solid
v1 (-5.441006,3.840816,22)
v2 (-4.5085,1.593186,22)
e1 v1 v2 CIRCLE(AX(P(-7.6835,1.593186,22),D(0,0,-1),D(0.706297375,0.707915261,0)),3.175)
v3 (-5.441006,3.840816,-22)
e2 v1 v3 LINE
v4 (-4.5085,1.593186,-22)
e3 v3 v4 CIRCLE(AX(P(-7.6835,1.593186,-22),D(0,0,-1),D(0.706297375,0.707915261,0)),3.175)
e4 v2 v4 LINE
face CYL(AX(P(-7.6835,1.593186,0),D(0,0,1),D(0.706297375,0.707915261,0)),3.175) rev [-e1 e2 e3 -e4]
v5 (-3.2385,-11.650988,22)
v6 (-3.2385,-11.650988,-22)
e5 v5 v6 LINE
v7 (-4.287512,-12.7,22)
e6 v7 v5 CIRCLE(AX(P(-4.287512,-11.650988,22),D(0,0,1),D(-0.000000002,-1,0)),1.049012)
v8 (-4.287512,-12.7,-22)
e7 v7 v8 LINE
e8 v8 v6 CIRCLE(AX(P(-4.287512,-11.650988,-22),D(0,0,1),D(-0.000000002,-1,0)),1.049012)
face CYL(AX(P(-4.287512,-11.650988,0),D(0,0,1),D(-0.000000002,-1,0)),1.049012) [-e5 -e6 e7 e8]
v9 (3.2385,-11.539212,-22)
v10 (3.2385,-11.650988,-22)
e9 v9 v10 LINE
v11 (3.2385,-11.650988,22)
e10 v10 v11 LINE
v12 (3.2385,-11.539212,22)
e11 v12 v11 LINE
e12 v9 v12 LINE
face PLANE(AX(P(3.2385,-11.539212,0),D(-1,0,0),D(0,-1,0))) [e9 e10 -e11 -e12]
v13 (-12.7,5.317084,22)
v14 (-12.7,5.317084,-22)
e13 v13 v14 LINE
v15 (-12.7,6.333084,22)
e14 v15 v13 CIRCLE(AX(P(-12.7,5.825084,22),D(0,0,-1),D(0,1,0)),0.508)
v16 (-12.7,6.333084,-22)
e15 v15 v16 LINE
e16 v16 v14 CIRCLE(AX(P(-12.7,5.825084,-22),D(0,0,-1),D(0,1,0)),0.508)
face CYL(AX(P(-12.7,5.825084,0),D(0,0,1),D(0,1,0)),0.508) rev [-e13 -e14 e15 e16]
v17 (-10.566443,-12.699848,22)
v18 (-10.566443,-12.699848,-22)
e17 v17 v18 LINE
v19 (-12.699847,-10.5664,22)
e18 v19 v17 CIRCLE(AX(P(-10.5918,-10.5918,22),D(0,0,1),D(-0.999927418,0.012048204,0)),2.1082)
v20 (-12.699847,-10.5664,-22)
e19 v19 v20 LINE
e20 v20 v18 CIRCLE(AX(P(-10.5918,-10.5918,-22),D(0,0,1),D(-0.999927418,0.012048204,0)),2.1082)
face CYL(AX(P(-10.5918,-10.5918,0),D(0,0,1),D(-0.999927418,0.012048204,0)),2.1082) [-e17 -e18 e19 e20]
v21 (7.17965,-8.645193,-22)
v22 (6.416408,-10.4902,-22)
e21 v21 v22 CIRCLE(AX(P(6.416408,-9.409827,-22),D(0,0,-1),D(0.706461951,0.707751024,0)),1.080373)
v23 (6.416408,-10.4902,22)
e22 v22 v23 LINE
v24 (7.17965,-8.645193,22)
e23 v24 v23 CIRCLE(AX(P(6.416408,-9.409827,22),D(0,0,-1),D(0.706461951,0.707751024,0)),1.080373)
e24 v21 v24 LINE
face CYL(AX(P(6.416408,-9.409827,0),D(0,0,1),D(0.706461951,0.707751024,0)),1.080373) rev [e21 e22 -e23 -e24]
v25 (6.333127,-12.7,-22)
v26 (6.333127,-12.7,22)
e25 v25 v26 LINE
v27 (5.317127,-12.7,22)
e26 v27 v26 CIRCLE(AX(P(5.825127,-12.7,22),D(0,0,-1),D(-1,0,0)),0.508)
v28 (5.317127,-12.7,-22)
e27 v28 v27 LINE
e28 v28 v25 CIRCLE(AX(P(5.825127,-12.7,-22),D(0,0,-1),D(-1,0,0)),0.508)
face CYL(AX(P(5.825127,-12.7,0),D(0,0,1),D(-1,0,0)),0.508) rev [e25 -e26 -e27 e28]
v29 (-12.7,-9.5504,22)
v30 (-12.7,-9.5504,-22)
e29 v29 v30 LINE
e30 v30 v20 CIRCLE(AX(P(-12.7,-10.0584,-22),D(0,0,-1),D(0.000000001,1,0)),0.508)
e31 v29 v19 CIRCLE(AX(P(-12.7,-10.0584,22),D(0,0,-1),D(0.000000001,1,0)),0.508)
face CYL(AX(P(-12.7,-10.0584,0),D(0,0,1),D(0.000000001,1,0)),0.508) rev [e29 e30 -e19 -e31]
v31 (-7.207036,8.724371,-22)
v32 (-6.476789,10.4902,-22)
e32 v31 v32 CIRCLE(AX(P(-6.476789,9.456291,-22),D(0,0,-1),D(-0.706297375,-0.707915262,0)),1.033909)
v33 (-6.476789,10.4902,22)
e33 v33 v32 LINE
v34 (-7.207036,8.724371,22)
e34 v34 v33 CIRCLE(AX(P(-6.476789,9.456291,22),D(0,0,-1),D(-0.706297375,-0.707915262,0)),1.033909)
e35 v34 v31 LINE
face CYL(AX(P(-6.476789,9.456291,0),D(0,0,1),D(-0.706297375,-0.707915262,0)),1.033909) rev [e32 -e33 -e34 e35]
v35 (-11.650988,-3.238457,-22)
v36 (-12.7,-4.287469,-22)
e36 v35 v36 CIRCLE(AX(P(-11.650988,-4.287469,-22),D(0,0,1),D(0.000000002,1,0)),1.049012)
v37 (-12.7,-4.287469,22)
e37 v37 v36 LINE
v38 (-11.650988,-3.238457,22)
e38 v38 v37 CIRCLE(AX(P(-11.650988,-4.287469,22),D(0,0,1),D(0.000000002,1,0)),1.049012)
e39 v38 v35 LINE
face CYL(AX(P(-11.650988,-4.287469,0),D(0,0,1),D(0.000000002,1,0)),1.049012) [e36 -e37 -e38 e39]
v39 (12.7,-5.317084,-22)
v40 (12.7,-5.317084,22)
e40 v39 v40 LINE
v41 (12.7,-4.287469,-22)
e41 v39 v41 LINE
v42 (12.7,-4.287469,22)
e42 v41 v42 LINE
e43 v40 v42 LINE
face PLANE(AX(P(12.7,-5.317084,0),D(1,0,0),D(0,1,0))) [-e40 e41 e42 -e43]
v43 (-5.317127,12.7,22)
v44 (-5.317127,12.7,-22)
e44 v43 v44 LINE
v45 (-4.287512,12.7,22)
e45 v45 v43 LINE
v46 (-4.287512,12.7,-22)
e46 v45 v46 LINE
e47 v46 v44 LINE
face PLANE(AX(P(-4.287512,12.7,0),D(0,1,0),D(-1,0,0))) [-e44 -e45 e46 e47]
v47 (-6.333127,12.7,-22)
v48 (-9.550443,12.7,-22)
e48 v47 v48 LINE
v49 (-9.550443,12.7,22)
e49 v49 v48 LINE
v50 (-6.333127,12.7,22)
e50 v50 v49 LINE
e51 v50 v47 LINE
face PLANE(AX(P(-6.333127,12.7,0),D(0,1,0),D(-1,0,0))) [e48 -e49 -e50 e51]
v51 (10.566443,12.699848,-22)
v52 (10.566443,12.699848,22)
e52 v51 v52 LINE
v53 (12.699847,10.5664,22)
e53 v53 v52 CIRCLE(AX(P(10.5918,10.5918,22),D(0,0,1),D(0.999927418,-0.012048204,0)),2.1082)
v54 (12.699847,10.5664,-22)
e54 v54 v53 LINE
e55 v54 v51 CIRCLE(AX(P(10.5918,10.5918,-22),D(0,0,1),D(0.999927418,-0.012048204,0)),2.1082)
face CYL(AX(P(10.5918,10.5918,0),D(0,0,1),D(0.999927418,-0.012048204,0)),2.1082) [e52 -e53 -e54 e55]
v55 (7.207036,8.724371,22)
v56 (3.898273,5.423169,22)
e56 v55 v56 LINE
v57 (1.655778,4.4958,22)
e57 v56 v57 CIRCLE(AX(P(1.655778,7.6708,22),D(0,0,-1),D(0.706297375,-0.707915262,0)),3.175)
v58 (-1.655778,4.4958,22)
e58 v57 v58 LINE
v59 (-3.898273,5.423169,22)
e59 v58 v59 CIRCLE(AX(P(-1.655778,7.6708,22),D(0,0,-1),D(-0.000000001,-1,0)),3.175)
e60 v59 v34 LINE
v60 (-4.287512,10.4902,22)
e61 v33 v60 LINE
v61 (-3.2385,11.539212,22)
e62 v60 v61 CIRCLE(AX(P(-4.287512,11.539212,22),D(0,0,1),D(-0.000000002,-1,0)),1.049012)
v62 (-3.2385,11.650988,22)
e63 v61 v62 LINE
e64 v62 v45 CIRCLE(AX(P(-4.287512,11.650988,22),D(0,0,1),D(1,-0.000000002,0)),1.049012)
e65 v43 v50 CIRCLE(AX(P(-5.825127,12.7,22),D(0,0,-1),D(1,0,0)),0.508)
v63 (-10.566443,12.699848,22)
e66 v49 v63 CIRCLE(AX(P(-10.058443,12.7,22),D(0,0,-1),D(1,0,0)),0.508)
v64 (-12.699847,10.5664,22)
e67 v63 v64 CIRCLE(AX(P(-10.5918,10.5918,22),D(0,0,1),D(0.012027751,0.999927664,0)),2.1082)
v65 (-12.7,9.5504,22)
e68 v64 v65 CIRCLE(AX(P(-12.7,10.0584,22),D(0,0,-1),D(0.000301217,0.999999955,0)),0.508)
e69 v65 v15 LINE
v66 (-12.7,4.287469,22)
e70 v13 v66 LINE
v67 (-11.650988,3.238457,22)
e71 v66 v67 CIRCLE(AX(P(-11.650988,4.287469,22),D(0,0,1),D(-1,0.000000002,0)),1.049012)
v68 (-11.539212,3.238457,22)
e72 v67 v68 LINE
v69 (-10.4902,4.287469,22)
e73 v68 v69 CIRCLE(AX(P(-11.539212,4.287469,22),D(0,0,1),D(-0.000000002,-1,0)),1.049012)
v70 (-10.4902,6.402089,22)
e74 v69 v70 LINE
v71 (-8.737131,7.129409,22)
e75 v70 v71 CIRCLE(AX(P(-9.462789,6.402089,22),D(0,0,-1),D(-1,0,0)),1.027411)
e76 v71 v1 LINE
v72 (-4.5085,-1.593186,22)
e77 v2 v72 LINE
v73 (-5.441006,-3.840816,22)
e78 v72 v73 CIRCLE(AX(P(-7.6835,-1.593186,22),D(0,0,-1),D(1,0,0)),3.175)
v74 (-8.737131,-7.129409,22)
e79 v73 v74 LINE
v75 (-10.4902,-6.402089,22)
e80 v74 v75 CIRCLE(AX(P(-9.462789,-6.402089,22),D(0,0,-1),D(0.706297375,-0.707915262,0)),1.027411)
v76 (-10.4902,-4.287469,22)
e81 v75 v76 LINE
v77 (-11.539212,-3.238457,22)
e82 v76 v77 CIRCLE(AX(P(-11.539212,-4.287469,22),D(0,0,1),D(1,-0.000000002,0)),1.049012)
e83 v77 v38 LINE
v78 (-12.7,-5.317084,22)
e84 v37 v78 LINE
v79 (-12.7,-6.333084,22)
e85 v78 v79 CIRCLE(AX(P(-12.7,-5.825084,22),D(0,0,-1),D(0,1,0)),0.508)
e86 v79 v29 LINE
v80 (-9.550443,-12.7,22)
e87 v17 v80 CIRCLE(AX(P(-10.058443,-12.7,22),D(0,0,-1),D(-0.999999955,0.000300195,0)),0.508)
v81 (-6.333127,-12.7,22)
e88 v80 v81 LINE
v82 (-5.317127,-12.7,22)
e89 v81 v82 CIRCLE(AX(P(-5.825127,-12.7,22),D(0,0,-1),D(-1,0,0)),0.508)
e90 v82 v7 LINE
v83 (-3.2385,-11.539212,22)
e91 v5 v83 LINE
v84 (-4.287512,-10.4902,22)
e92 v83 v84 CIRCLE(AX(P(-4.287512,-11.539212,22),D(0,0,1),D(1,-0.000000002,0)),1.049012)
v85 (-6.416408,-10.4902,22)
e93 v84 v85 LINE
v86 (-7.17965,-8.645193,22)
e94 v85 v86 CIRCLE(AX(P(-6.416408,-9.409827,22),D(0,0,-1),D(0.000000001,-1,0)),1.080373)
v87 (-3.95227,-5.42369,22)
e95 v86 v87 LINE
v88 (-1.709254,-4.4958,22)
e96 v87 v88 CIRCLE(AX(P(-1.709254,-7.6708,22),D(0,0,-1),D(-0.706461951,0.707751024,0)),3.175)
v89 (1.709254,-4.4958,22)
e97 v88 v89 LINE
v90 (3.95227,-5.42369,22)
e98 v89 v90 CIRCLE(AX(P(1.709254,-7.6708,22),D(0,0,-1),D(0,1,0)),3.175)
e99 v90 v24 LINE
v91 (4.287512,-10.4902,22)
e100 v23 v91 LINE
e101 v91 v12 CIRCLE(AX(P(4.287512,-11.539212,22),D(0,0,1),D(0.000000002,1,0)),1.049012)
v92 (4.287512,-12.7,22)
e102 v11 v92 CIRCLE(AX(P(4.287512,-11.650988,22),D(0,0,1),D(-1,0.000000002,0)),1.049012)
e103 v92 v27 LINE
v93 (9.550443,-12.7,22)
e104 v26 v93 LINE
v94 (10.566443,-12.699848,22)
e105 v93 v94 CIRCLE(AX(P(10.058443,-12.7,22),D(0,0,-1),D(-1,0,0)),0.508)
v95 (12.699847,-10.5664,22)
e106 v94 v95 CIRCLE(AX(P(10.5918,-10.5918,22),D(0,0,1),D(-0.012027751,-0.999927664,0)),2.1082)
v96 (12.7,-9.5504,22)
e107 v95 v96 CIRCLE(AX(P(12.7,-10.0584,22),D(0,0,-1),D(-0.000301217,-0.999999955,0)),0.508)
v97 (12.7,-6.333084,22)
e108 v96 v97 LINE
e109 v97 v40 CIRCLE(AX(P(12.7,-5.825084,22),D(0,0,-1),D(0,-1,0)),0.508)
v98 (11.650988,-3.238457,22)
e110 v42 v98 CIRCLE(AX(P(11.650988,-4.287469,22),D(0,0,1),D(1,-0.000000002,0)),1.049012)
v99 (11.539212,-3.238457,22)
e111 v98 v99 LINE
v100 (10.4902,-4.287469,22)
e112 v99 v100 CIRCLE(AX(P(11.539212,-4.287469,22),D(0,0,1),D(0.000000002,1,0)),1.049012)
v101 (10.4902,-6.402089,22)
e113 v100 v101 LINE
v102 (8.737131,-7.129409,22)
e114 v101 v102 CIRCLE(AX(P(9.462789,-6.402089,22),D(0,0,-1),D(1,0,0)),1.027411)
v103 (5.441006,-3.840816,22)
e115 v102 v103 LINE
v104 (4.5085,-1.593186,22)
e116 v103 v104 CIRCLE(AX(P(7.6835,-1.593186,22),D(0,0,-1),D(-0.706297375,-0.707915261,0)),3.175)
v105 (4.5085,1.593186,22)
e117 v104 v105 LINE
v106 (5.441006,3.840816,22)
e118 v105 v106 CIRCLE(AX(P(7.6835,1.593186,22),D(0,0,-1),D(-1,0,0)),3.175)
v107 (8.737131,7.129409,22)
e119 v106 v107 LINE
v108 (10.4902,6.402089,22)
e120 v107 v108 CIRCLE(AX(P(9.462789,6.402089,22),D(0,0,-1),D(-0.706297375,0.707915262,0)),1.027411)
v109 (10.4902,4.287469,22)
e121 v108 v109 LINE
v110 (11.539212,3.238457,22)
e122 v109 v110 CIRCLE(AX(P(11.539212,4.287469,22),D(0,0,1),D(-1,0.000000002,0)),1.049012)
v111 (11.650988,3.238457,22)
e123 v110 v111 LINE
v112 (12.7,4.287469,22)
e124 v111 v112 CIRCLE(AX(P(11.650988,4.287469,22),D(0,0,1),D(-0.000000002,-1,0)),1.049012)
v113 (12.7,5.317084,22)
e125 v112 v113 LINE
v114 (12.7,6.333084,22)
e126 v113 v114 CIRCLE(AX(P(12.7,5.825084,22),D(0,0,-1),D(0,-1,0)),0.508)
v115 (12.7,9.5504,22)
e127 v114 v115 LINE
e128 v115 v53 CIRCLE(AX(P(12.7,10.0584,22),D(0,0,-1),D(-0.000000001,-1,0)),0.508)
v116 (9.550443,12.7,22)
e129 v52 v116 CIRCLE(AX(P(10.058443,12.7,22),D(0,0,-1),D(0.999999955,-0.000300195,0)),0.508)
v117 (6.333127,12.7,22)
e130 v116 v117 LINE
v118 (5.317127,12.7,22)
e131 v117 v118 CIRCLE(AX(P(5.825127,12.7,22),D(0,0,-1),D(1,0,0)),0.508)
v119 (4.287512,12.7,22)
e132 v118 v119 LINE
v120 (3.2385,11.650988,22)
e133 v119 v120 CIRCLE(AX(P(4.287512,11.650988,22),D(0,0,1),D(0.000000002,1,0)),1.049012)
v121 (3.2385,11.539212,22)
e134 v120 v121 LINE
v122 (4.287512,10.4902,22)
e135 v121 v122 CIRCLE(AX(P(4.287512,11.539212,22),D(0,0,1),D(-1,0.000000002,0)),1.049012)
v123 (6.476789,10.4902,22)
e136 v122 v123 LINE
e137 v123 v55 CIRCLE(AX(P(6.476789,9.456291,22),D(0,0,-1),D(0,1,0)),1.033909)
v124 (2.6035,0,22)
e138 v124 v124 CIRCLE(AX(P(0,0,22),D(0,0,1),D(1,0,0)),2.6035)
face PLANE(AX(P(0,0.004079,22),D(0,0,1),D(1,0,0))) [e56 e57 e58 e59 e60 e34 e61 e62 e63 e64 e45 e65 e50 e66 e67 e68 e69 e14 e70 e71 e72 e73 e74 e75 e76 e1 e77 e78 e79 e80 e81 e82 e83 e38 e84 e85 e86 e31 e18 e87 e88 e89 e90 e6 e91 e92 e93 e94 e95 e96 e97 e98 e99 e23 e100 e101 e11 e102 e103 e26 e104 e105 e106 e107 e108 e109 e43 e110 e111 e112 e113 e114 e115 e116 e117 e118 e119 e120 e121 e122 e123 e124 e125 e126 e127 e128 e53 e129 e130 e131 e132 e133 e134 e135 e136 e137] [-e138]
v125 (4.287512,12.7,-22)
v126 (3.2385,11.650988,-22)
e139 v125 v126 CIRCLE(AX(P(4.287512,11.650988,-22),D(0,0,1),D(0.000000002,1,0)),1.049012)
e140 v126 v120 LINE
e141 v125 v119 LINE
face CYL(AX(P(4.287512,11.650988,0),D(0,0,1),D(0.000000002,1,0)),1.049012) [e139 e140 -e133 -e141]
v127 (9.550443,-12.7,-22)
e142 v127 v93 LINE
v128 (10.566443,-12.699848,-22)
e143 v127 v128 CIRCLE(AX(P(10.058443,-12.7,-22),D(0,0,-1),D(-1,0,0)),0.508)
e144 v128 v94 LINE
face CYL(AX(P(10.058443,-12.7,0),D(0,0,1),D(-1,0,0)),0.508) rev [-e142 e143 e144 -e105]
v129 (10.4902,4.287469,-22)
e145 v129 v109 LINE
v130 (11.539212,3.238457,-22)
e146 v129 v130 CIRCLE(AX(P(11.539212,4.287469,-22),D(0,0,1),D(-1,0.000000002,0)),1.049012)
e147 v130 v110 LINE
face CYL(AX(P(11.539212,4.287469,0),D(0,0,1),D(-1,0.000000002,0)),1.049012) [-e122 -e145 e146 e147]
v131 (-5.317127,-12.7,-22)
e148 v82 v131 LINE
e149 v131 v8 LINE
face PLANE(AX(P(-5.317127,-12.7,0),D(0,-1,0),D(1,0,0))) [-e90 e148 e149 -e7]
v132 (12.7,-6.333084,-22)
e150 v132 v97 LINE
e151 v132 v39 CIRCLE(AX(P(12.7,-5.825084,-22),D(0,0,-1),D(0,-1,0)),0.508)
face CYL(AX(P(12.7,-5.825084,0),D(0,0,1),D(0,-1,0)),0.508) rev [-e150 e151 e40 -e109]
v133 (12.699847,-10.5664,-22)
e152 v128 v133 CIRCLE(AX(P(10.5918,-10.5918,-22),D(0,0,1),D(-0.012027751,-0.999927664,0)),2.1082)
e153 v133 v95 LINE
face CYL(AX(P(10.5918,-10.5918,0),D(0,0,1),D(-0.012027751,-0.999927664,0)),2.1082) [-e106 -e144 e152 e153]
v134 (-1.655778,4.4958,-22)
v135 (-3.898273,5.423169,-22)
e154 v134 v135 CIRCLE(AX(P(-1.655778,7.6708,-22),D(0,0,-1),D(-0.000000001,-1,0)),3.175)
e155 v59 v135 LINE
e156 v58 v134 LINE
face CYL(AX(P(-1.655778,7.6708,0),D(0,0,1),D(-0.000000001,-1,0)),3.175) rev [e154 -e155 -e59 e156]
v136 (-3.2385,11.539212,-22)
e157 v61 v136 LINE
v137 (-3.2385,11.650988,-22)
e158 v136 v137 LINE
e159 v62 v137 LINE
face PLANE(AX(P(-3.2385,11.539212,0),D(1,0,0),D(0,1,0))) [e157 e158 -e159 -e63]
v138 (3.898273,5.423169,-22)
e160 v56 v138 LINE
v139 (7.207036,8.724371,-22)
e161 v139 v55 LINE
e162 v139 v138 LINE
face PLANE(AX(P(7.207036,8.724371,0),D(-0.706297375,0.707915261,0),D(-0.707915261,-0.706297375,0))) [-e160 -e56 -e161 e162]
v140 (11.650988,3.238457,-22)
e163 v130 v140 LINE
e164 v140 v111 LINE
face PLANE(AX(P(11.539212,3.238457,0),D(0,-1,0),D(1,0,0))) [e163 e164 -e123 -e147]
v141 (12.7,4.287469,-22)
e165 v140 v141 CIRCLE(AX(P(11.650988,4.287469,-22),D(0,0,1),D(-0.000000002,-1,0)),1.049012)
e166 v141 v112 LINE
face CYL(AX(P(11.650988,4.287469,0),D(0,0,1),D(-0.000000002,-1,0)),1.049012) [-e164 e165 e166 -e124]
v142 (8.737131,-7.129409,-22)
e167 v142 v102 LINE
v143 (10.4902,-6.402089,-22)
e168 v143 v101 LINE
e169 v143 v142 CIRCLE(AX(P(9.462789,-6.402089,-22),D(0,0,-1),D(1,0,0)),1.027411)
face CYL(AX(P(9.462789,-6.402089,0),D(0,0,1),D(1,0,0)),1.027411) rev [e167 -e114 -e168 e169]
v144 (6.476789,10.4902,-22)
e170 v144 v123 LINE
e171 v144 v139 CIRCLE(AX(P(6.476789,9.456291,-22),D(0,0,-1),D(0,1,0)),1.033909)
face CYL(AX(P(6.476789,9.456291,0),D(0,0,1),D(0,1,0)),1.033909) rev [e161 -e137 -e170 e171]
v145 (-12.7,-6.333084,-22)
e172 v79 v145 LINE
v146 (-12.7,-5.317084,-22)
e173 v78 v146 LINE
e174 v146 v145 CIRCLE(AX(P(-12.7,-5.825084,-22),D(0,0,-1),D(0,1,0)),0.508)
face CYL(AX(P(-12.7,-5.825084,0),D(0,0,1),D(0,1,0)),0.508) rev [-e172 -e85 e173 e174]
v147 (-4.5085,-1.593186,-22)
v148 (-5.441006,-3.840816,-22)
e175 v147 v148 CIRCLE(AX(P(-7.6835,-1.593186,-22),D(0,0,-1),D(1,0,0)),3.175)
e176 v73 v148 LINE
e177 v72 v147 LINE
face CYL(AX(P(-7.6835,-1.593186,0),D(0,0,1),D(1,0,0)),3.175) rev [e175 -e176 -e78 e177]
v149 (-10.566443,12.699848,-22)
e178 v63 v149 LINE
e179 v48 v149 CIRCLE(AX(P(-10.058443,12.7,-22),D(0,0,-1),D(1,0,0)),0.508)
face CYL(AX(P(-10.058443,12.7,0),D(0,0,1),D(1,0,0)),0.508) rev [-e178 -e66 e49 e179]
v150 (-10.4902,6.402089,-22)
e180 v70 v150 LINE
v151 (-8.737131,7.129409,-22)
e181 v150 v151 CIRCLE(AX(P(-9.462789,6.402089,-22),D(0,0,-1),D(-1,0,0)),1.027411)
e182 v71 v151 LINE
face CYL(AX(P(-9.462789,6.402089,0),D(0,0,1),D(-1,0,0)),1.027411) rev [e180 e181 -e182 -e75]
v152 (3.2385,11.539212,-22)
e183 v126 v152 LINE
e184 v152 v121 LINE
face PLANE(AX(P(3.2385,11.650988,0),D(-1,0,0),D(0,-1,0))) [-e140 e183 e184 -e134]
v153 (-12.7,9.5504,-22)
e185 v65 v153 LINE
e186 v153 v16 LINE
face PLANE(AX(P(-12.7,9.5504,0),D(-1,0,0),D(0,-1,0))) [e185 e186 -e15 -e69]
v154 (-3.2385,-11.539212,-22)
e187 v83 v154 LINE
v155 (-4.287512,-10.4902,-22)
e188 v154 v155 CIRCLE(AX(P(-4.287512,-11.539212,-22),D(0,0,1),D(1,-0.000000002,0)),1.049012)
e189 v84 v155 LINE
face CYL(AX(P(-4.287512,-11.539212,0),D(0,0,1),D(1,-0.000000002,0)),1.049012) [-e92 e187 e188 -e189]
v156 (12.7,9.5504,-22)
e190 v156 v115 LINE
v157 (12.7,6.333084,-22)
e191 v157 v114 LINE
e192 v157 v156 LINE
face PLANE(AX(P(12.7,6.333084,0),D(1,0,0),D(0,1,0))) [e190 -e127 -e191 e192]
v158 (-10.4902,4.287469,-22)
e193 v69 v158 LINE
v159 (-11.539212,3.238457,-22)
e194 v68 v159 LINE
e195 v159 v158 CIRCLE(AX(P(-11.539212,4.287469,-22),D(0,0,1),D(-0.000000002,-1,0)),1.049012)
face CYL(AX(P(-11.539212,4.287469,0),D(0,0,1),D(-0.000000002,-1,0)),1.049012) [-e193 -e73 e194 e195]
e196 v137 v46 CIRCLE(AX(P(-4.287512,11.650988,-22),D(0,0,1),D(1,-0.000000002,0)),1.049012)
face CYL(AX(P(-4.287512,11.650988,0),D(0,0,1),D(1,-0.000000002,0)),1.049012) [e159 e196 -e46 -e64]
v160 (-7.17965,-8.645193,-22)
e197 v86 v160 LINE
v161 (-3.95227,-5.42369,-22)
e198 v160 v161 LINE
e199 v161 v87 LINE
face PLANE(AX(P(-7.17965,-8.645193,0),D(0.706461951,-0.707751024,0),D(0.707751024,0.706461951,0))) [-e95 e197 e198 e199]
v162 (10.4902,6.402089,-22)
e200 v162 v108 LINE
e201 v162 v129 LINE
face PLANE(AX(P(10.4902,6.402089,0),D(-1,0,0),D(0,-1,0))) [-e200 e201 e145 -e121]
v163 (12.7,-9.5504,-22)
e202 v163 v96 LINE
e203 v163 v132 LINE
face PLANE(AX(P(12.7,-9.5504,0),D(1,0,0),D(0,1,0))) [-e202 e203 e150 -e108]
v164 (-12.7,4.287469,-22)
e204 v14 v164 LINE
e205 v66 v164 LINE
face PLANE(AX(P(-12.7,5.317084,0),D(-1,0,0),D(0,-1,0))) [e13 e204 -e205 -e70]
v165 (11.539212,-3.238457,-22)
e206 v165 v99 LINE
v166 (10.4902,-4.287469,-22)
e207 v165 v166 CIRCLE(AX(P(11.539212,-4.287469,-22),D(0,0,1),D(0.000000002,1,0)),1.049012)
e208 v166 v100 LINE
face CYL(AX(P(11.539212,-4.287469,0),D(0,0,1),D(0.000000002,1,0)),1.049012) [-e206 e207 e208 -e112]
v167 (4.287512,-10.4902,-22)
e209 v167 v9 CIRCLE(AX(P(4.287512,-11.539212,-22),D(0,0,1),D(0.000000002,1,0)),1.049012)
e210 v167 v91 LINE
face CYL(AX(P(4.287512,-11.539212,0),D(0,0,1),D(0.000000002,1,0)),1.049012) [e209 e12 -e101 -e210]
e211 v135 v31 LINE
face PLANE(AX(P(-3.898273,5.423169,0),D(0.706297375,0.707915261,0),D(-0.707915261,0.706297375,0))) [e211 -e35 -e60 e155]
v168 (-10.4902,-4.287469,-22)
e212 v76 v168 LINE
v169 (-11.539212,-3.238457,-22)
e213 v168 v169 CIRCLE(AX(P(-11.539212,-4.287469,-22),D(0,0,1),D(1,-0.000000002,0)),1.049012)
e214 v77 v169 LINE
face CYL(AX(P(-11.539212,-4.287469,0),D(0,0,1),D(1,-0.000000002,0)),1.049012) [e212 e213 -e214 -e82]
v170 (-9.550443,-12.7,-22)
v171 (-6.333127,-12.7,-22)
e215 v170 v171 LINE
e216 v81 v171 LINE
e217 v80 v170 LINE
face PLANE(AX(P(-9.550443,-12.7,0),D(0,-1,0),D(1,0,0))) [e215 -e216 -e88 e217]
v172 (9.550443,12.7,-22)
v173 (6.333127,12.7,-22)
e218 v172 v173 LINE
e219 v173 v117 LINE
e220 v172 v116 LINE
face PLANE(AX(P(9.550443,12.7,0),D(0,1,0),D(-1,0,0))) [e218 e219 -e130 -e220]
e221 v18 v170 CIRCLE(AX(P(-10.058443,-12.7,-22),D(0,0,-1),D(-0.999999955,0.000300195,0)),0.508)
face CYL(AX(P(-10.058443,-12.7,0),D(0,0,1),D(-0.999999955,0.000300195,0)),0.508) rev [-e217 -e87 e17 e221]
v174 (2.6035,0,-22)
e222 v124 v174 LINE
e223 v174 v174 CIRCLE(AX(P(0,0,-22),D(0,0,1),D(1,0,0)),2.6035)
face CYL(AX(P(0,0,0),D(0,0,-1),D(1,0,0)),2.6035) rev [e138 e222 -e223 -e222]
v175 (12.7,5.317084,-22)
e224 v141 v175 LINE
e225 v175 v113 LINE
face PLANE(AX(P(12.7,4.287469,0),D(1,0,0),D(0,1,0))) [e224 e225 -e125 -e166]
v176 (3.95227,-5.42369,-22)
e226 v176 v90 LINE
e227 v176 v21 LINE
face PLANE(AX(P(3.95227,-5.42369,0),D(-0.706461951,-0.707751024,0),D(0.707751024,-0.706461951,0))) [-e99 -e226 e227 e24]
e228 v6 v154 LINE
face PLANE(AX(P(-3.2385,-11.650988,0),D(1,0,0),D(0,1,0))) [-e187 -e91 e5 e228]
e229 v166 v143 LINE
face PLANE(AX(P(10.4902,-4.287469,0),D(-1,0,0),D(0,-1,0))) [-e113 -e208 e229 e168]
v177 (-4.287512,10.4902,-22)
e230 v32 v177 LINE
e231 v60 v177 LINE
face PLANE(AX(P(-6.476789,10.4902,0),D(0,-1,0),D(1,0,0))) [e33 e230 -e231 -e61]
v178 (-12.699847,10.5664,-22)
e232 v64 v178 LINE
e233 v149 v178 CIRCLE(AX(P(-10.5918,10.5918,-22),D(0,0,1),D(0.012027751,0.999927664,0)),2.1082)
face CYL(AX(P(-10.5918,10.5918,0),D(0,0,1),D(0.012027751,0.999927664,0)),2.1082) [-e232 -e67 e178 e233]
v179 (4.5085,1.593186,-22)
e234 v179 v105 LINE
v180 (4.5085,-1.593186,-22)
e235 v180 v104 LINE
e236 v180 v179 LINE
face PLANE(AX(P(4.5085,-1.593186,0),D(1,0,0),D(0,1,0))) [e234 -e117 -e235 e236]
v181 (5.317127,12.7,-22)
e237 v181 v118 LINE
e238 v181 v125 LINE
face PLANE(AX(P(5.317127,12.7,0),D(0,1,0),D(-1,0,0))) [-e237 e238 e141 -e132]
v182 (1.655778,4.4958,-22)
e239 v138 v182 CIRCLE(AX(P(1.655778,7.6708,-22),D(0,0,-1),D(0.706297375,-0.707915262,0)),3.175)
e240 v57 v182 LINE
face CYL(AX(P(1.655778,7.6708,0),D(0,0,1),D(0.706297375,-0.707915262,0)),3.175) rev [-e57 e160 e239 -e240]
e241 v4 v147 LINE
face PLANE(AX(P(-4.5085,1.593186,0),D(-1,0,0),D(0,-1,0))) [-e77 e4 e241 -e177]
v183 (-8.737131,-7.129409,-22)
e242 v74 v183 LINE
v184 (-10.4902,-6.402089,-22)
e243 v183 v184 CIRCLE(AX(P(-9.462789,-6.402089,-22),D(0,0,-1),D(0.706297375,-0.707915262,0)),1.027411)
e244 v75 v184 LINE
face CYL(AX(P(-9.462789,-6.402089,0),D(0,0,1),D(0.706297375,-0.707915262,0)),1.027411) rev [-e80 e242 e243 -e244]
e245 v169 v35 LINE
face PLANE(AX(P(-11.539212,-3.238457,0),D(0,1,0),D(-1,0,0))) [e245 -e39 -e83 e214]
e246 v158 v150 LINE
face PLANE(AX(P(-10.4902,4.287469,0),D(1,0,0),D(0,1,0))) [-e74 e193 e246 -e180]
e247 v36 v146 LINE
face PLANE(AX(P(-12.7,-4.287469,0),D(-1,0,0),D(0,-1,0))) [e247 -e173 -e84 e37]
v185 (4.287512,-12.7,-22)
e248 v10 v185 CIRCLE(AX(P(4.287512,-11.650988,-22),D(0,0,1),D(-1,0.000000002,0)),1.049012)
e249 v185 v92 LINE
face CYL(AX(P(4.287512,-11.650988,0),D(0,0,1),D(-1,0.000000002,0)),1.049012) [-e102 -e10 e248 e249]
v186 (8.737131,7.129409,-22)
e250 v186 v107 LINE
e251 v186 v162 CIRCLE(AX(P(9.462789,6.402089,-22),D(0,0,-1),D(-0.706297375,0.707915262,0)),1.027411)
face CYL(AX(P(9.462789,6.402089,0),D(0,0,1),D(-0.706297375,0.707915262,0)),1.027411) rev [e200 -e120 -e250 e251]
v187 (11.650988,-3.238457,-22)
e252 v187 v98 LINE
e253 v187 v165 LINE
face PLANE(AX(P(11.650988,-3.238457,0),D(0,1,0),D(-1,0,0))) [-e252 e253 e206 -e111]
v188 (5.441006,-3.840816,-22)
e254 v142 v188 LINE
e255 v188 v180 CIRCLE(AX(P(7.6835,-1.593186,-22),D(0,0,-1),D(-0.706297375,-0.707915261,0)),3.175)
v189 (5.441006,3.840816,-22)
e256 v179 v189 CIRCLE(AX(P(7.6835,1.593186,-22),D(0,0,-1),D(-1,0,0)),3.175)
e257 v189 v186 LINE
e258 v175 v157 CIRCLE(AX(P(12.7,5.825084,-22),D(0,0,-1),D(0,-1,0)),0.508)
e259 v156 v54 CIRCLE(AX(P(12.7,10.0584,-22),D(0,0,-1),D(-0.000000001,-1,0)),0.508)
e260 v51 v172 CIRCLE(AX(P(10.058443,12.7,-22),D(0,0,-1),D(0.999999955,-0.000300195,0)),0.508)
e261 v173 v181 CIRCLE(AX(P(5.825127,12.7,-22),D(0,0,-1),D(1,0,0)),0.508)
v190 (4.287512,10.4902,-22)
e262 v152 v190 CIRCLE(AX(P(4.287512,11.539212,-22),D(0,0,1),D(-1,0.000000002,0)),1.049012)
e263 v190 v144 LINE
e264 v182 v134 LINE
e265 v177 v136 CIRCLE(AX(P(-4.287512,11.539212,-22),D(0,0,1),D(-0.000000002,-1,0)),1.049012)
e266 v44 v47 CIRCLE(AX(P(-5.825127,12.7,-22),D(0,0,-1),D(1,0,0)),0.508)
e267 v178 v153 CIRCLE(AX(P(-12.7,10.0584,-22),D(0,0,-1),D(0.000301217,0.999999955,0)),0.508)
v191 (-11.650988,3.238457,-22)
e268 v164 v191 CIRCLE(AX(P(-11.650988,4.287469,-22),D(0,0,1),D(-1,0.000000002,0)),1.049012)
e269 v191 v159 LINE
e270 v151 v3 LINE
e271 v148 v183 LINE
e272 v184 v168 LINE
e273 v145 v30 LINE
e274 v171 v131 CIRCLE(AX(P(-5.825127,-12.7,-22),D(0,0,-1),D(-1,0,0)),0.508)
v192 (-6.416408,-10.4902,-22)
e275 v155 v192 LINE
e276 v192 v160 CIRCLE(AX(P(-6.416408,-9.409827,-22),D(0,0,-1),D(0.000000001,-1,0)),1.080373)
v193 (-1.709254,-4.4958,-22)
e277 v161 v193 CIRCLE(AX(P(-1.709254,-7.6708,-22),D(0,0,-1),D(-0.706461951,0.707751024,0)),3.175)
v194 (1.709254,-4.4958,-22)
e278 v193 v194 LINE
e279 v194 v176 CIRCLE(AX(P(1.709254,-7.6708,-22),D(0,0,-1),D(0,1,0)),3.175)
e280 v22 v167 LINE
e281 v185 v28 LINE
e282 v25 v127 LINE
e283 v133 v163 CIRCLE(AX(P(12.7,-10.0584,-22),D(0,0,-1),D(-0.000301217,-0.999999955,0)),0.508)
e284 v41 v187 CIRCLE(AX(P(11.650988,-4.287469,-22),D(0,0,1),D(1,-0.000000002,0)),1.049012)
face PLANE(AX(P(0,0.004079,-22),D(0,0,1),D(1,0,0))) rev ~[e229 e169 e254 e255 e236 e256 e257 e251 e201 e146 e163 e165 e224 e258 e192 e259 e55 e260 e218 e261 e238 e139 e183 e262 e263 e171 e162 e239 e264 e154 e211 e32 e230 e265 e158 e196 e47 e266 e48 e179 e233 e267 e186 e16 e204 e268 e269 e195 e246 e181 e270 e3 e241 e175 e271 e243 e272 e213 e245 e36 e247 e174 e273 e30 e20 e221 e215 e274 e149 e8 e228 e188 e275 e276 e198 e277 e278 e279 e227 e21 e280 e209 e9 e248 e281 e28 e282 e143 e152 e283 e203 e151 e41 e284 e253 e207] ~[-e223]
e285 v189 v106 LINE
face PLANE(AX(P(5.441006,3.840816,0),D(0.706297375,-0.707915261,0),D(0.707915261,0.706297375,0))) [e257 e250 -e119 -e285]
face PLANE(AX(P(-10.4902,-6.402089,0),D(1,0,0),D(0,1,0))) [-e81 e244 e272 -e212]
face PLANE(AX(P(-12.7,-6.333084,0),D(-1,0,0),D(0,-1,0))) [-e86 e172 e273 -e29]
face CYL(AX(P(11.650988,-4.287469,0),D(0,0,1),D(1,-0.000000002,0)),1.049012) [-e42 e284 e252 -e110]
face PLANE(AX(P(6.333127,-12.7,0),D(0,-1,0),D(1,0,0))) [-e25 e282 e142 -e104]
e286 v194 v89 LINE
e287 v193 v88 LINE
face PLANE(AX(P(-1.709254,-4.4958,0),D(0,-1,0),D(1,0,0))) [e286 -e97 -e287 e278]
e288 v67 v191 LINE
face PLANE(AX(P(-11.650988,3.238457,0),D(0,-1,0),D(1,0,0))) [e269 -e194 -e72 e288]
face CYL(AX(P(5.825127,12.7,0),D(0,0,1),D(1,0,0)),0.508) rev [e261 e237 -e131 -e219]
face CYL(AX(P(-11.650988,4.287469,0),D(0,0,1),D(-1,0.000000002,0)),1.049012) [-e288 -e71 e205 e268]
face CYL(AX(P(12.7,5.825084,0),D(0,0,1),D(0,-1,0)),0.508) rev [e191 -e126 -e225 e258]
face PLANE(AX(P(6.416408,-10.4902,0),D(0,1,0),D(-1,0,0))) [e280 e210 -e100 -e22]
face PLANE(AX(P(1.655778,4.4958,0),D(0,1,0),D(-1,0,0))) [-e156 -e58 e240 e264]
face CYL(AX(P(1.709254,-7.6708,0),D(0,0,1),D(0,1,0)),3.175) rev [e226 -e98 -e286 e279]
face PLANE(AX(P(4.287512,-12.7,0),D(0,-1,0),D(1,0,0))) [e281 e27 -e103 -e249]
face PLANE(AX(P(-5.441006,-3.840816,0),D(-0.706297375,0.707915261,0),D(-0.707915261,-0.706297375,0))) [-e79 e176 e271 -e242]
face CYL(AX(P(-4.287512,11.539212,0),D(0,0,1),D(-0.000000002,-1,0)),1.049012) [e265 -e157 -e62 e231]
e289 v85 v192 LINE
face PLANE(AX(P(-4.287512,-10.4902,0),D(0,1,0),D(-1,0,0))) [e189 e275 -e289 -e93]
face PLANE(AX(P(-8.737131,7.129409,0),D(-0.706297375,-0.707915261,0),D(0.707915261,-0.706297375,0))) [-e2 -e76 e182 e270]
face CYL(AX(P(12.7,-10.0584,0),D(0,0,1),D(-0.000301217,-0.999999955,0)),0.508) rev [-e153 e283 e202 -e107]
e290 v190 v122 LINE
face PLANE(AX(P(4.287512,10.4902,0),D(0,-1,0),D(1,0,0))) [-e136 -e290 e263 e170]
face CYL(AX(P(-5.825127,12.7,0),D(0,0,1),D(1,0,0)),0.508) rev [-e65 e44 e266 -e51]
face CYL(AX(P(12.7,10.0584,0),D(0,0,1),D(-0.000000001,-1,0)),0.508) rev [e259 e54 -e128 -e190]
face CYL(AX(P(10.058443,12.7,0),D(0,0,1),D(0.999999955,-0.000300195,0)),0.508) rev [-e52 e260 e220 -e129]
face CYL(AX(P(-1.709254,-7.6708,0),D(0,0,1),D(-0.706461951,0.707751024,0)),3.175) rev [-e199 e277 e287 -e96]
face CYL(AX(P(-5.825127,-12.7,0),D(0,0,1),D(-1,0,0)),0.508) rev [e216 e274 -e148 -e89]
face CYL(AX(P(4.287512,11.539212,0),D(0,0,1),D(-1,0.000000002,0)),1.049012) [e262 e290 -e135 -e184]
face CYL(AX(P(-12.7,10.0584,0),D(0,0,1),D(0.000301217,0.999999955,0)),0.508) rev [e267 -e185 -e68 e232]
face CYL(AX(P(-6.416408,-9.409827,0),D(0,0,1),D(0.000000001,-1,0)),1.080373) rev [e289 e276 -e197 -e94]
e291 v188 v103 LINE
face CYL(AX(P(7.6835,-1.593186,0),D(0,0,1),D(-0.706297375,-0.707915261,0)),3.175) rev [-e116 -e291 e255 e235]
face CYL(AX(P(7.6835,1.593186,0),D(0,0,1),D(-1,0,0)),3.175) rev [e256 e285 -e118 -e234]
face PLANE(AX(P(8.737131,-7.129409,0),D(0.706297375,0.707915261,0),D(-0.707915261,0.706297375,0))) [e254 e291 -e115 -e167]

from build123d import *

# Parameters (mm, degrees)
SKETCH1_R           = 2.6035
BOSS_EXTRUDE1_DEPTH = 22


with BuildPart() as part:
    # Sketch1 → Boss-Extrude1 (new body, symmetric)
    with BuildSketch(Plane.XY):
        with BuildLine():
            Line((-7.179650497, -8.645192506), (-3.952270251, -5.423690499))
            ThreePointArc((-3.952270251, -5.423690499), (-2.922936451, -4.736929036), (-1.709253557, -4.4958))
            Line((-1.709253557, -4.4958), (1.709253557, -4.4958))
            ThreePointArc((1.709253557, -4.4958), (2.922936451, -4.736929036), (3.952270251, -5.423690499))
            Line((3.952270251, -5.423690499), (7.179650497, -8.645192506))
            ThreePointArc((7.179650497, -8.645192506), (7.41473083, -9.822813117), (6.416408329, -10.4902))
            Line((6.416408329, -10.4902), (4.287512407, -10.4902))
            ThreePointArc((4.287512407, -10.4902), (3.54574862, -10.79744862), (3.2385, -11.539212407))
            Line((3.2385, -11.539212407), (3.2385, -11.650987593))
            ThreePointArc((3.2385, -11.650987593), (3.54574862, -12.39275138), (4.287512407, -12.7))
            Line((4.287512407, -12.7), (5.317126718, -12.7))
            ThreePointArc((5.317126718, -12.7), (5.825126718, -12.192), (6.333126718, -12.7))
            Line((6.333126718, -12.7), (9.550443118, -12.7))
            ThreePointArc((9.550443118, -12.7), (10.058366869, -12.192000006), (10.566443095, -12.699847501))
            ThreePointArc((10.566443095, -12.699847501), (12.082537762, -12.08250727), (12.699846982, -10.566399977))
            ThreePointArc((12.699846982, -10.566399977), (12.192000006, -10.058323491), (12.7, -9.5504))
            Line((12.7, -9.5504), (12.7, -6.3330836))
            ThreePointArc((12.7, -6.3330836), (12.192, -5.8250836), (12.7, -5.3170836))
            Line((12.7, -5.3170836), (12.7, -4.287469289))
            ThreePointArc((12.7, -4.287469289), (12.39275138, -3.545705502), (11.650987593, -3.238456882))
            Line((11.650987593, -3.238456882), (11.539212407, -3.238456882))
            ThreePointArc((11.539212407, -3.238456882), (10.79744862, -3.545705502), (10.4902, -4.287469289))
            Line((10.4902, -4.287469289), (10.4902, -6.402089023))
            ThreePointArc((10.4902, -6.402089023), (9.856505071, -7.351067942), (8.737131347, -7.129408934))
            Line((8.737131347, -7.129408934), (5.441005833, -3.840816462))
            ThreePointArc((5.441005833, -3.840816462), (4.750877967, -2.809883091), (4.5085, -1.593185507))
            Line((4.5085, -1.593185507), (4.5085, 1.593185507))
            ThreePointArc((4.5085, 1.593185507), (4.750877967, 2.809883091), (5.441005833, 3.840816462))
            Line((5.441005833, 3.840816462), (8.737131347, 7.129408934))
            ThreePointArc((8.737131347, 7.129408934), (9.856505071, 7.351067942), (10.4902, 6.402089023))
            Line((10.4902, 6.402089023), (10.4902, 4.287469289))
            ThreePointArc((10.4902, 4.287469289), (10.79744862, 3.545705502), (11.539212407, 3.238456882))
            Line((11.539212407, 3.238456882), (11.650987593, 3.238456882))
            ThreePointArc((11.650987593, 3.238456882), (12.39275138, 3.545705502), (12.7, 4.287469289))
            Line((12.7, 4.287469289), (12.7, 5.3170836))
            ThreePointArc((12.7, 5.3170836), (12.192, 5.8250836), (12.7, 6.3330836))
            Line((12.7, 6.3330836), (12.7, 9.5504))
            ThreePointArc((12.7, 9.5504), (12.192000006, 10.058323491), (12.699846982, 10.566399977))
            ThreePointArc((12.699846982, 10.566399977), (12.082537762, 12.08250727), (10.566443095, 12.699847501))
            ThreePointArc((10.566443095, 12.699847501), (10.058366869, 12.192000006), (9.550443118, 12.7))
            Line((9.550443118, 12.7), (6.333126718, 12.7))
            ThreePointArc((6.333126718, 12.7), (5.825126718, 12.192), (5.317126718, 12.7))
            Line((5.317126718, 12.7), (4.287512407, 12.7))
            ThreePointArc((4.287512407, 12.7), (3.54574862, 12.39275138), (3.2385, 11.650987593))
            Line((3.2385, 11.650987593), (3.2385, 11.539212407))
            ThreePointArc((3.2385, 11.539212407), (3.54574862, 10.79744862), (4.287512407, 10.4902))
            Line((4.287512407, 10.4902), (6.476788598, 10.4902))
            ThreePointArc((6.476788598, 10.4902), (7.432222385, 9.85140422), (7.207036008, 8.724370562))
            Line((7.207036008, 8.724370562), (3.898272566, 5.423169045))
            ThreePointArc((3.898272566, 5.423169045), (2.869120213, 4.736787962), (1.655778399, 4.4958))
            Line((1.655778399, 4.4958), (-1.655778399, 4.4958))
            ThreePointArc((-1.655778399, 4.4958), (-2.869120213, 4.736787962), (-3.898272566, 5.423169045))
            Line((-3.898272566, 5.423169045), (-7.207036008, 8.724370562))
            ThreePointArc((-7.207036008, 8.724370562), (-7.432222385, 9.85140422), (-6.476788598, 10.4902))
            Line((-6.476788598, 10.4902), (-4.287512407, 10.4902))
            ThreePointArc((-4.287512407, 10.4902), (-3.54574862, 10.79744862), (-3.2385, 11.539212407))
            Line((-3.2385, 11.539212407), (-3.2385, 11.650987593))
            ThreePointArc((-3.2385, 11.650987593), (-3.54574862, 12.39275138), (-4.287512407, 12.7))
            Line((-4.287512407, 12.7), (-5.317126718, 12.7))
            ThreePointArc((-5.317126718, 12.7), (-5.825126718, 12.192), (-6.333126718, 12.7))
            Line((-6.333126718, 12.7), (-9.550443118, 12.7))
            ThreePointArc((-9.550443118, 12.7), (-10.058366869, 12.192000006), (-10.566443095, 12.699847501))
            ThreePointArc((-10.566443095, 12.699847501), (-12.082537762, 12.08250727), (-12.699846982, 10.566399977))
            ThreePointArc((-12.699846982, 10.566399977), (-12.192000006, 10.058323491), (-12.7, 9.5504))
            Line((-12.7, 9.5504), (-12.7, 6.3330836))
            ThreePointArc((-12.7, 6.3330836), (-12.192, 5.8250836), (-12.7, 5.3170836))
            Line((-12.7, 5.3170836), (-12.7, 4.287469289))
            ThreePointArc((-12.7, 4.287469289), (-12.39275138, 3.545705502), (-11.650987593, 3.238456882))
            Line((-11.650987593, 3.238456882), (-11.539212407, 3.238456882))
            ThreePointArc((-11.539212407, 3.238456882), (-10.79744862, 3.545705502), (-10.4902, 4.287469289))
            Line((-10.4902, 4.287469289), (-10.4902, 6.402089023))
            ThreePointArc((-10.4902, 6.402089023), (-9.856505071, 7.351067942), (-8.737131347, 7.129408934))
            Line((-8.737131347, 7.129408934), (-5.441005833, 3.840816462))
            ThreePointArc((-5.441005833, 3.840816462), (-4.750877967, 2.809883091), (-4.5085, 1.593185507))
            Line((-4.5085, 1.593185507), (-4.5085, -1.593185507))
            ThreePointArc((-4.5085, -1.593185507), (-4.750877967, -2.809883091), (-5.441005833, -3.840816462))
            Line((-5.441005833, -3.840816462), (-8.737131347, -7.129408934))
            ThreePointArc((-8.737131347, -7.129408934), (-9.856505071, -7.351067942), (-10.4902, -6.402089023))
            Line((-10.4902, -6.402089023), (-10.4902, -4.287469289))
            ThreePointArc((-10.4902, -4.287469289), (-10.79744862, -3.545705502), (-11.539212407, -3.238456882))
            Line((-11.539212407, -3.238456882), (-11.650987593, -3.238456882))
            ThreePointArc((-11.650987593, -3.238456882), (-12.39275138, -3.545705502), (-12.7, -4.287469289))
            Line((-12.7, -4.287469289), (-12.7, -5.3170836))
            ThreePointArc((-12.7, -5.3170836), (-12.192, -5.8250836), (-12.7, -6.3330836))
            Line((-12.7, -6.3330836), (-12.7, -9.5504))
            ThreePointArc((-12.7, -9.5504), (-12.192000006, -10.058323491), (-12.699846982, -10.566399977))
            ThreePointArc((-12.699846982, -10.566399977), (-12.082537762, -12.08250727), (-10.566443095, -12.699847501))
            ThreePointArc((-10.566443095, -12.699847501), (-10.058366869, -12.192000006), (-9.550443118, -12.7))
            Line((-9.550443118, -12.7), (-6.333126718, -12.7))
            ThreePointArc((-6.333126718, -12.7), (-5.825126718, -12.192), (-5.317126718, -12.7))
            Line((-5.317126718, -12.7), (-4.287512407, -12.7))
            ThreePointArc((-4.287512407, -12.7), (-3.54574862, -12.39275138), (-3.2385, -11.650987593))
            Line((-3.2385, -11.650987593), (-3.2385, -11.539212407))
            ThreePointArc((-3.2385, -11.539212407), (-3.54574862, -10.79744862), (-4.287512407, -10.4902))
            Line((-4.287512407, -10.4902), (-6.416408329, -10.4902))
            ThreePointArc((-6.416408329, -10.4902), (-7.41473083, -9.822813117), (-7.179650497, -8.645192506))
        make_face()
        Circle(SKETCH1_R, mode=Mode.SUBTRACT)
    extrude(amount=BOSS_EXTRUDE1_DEPTH, both=True)


solid = part.part
